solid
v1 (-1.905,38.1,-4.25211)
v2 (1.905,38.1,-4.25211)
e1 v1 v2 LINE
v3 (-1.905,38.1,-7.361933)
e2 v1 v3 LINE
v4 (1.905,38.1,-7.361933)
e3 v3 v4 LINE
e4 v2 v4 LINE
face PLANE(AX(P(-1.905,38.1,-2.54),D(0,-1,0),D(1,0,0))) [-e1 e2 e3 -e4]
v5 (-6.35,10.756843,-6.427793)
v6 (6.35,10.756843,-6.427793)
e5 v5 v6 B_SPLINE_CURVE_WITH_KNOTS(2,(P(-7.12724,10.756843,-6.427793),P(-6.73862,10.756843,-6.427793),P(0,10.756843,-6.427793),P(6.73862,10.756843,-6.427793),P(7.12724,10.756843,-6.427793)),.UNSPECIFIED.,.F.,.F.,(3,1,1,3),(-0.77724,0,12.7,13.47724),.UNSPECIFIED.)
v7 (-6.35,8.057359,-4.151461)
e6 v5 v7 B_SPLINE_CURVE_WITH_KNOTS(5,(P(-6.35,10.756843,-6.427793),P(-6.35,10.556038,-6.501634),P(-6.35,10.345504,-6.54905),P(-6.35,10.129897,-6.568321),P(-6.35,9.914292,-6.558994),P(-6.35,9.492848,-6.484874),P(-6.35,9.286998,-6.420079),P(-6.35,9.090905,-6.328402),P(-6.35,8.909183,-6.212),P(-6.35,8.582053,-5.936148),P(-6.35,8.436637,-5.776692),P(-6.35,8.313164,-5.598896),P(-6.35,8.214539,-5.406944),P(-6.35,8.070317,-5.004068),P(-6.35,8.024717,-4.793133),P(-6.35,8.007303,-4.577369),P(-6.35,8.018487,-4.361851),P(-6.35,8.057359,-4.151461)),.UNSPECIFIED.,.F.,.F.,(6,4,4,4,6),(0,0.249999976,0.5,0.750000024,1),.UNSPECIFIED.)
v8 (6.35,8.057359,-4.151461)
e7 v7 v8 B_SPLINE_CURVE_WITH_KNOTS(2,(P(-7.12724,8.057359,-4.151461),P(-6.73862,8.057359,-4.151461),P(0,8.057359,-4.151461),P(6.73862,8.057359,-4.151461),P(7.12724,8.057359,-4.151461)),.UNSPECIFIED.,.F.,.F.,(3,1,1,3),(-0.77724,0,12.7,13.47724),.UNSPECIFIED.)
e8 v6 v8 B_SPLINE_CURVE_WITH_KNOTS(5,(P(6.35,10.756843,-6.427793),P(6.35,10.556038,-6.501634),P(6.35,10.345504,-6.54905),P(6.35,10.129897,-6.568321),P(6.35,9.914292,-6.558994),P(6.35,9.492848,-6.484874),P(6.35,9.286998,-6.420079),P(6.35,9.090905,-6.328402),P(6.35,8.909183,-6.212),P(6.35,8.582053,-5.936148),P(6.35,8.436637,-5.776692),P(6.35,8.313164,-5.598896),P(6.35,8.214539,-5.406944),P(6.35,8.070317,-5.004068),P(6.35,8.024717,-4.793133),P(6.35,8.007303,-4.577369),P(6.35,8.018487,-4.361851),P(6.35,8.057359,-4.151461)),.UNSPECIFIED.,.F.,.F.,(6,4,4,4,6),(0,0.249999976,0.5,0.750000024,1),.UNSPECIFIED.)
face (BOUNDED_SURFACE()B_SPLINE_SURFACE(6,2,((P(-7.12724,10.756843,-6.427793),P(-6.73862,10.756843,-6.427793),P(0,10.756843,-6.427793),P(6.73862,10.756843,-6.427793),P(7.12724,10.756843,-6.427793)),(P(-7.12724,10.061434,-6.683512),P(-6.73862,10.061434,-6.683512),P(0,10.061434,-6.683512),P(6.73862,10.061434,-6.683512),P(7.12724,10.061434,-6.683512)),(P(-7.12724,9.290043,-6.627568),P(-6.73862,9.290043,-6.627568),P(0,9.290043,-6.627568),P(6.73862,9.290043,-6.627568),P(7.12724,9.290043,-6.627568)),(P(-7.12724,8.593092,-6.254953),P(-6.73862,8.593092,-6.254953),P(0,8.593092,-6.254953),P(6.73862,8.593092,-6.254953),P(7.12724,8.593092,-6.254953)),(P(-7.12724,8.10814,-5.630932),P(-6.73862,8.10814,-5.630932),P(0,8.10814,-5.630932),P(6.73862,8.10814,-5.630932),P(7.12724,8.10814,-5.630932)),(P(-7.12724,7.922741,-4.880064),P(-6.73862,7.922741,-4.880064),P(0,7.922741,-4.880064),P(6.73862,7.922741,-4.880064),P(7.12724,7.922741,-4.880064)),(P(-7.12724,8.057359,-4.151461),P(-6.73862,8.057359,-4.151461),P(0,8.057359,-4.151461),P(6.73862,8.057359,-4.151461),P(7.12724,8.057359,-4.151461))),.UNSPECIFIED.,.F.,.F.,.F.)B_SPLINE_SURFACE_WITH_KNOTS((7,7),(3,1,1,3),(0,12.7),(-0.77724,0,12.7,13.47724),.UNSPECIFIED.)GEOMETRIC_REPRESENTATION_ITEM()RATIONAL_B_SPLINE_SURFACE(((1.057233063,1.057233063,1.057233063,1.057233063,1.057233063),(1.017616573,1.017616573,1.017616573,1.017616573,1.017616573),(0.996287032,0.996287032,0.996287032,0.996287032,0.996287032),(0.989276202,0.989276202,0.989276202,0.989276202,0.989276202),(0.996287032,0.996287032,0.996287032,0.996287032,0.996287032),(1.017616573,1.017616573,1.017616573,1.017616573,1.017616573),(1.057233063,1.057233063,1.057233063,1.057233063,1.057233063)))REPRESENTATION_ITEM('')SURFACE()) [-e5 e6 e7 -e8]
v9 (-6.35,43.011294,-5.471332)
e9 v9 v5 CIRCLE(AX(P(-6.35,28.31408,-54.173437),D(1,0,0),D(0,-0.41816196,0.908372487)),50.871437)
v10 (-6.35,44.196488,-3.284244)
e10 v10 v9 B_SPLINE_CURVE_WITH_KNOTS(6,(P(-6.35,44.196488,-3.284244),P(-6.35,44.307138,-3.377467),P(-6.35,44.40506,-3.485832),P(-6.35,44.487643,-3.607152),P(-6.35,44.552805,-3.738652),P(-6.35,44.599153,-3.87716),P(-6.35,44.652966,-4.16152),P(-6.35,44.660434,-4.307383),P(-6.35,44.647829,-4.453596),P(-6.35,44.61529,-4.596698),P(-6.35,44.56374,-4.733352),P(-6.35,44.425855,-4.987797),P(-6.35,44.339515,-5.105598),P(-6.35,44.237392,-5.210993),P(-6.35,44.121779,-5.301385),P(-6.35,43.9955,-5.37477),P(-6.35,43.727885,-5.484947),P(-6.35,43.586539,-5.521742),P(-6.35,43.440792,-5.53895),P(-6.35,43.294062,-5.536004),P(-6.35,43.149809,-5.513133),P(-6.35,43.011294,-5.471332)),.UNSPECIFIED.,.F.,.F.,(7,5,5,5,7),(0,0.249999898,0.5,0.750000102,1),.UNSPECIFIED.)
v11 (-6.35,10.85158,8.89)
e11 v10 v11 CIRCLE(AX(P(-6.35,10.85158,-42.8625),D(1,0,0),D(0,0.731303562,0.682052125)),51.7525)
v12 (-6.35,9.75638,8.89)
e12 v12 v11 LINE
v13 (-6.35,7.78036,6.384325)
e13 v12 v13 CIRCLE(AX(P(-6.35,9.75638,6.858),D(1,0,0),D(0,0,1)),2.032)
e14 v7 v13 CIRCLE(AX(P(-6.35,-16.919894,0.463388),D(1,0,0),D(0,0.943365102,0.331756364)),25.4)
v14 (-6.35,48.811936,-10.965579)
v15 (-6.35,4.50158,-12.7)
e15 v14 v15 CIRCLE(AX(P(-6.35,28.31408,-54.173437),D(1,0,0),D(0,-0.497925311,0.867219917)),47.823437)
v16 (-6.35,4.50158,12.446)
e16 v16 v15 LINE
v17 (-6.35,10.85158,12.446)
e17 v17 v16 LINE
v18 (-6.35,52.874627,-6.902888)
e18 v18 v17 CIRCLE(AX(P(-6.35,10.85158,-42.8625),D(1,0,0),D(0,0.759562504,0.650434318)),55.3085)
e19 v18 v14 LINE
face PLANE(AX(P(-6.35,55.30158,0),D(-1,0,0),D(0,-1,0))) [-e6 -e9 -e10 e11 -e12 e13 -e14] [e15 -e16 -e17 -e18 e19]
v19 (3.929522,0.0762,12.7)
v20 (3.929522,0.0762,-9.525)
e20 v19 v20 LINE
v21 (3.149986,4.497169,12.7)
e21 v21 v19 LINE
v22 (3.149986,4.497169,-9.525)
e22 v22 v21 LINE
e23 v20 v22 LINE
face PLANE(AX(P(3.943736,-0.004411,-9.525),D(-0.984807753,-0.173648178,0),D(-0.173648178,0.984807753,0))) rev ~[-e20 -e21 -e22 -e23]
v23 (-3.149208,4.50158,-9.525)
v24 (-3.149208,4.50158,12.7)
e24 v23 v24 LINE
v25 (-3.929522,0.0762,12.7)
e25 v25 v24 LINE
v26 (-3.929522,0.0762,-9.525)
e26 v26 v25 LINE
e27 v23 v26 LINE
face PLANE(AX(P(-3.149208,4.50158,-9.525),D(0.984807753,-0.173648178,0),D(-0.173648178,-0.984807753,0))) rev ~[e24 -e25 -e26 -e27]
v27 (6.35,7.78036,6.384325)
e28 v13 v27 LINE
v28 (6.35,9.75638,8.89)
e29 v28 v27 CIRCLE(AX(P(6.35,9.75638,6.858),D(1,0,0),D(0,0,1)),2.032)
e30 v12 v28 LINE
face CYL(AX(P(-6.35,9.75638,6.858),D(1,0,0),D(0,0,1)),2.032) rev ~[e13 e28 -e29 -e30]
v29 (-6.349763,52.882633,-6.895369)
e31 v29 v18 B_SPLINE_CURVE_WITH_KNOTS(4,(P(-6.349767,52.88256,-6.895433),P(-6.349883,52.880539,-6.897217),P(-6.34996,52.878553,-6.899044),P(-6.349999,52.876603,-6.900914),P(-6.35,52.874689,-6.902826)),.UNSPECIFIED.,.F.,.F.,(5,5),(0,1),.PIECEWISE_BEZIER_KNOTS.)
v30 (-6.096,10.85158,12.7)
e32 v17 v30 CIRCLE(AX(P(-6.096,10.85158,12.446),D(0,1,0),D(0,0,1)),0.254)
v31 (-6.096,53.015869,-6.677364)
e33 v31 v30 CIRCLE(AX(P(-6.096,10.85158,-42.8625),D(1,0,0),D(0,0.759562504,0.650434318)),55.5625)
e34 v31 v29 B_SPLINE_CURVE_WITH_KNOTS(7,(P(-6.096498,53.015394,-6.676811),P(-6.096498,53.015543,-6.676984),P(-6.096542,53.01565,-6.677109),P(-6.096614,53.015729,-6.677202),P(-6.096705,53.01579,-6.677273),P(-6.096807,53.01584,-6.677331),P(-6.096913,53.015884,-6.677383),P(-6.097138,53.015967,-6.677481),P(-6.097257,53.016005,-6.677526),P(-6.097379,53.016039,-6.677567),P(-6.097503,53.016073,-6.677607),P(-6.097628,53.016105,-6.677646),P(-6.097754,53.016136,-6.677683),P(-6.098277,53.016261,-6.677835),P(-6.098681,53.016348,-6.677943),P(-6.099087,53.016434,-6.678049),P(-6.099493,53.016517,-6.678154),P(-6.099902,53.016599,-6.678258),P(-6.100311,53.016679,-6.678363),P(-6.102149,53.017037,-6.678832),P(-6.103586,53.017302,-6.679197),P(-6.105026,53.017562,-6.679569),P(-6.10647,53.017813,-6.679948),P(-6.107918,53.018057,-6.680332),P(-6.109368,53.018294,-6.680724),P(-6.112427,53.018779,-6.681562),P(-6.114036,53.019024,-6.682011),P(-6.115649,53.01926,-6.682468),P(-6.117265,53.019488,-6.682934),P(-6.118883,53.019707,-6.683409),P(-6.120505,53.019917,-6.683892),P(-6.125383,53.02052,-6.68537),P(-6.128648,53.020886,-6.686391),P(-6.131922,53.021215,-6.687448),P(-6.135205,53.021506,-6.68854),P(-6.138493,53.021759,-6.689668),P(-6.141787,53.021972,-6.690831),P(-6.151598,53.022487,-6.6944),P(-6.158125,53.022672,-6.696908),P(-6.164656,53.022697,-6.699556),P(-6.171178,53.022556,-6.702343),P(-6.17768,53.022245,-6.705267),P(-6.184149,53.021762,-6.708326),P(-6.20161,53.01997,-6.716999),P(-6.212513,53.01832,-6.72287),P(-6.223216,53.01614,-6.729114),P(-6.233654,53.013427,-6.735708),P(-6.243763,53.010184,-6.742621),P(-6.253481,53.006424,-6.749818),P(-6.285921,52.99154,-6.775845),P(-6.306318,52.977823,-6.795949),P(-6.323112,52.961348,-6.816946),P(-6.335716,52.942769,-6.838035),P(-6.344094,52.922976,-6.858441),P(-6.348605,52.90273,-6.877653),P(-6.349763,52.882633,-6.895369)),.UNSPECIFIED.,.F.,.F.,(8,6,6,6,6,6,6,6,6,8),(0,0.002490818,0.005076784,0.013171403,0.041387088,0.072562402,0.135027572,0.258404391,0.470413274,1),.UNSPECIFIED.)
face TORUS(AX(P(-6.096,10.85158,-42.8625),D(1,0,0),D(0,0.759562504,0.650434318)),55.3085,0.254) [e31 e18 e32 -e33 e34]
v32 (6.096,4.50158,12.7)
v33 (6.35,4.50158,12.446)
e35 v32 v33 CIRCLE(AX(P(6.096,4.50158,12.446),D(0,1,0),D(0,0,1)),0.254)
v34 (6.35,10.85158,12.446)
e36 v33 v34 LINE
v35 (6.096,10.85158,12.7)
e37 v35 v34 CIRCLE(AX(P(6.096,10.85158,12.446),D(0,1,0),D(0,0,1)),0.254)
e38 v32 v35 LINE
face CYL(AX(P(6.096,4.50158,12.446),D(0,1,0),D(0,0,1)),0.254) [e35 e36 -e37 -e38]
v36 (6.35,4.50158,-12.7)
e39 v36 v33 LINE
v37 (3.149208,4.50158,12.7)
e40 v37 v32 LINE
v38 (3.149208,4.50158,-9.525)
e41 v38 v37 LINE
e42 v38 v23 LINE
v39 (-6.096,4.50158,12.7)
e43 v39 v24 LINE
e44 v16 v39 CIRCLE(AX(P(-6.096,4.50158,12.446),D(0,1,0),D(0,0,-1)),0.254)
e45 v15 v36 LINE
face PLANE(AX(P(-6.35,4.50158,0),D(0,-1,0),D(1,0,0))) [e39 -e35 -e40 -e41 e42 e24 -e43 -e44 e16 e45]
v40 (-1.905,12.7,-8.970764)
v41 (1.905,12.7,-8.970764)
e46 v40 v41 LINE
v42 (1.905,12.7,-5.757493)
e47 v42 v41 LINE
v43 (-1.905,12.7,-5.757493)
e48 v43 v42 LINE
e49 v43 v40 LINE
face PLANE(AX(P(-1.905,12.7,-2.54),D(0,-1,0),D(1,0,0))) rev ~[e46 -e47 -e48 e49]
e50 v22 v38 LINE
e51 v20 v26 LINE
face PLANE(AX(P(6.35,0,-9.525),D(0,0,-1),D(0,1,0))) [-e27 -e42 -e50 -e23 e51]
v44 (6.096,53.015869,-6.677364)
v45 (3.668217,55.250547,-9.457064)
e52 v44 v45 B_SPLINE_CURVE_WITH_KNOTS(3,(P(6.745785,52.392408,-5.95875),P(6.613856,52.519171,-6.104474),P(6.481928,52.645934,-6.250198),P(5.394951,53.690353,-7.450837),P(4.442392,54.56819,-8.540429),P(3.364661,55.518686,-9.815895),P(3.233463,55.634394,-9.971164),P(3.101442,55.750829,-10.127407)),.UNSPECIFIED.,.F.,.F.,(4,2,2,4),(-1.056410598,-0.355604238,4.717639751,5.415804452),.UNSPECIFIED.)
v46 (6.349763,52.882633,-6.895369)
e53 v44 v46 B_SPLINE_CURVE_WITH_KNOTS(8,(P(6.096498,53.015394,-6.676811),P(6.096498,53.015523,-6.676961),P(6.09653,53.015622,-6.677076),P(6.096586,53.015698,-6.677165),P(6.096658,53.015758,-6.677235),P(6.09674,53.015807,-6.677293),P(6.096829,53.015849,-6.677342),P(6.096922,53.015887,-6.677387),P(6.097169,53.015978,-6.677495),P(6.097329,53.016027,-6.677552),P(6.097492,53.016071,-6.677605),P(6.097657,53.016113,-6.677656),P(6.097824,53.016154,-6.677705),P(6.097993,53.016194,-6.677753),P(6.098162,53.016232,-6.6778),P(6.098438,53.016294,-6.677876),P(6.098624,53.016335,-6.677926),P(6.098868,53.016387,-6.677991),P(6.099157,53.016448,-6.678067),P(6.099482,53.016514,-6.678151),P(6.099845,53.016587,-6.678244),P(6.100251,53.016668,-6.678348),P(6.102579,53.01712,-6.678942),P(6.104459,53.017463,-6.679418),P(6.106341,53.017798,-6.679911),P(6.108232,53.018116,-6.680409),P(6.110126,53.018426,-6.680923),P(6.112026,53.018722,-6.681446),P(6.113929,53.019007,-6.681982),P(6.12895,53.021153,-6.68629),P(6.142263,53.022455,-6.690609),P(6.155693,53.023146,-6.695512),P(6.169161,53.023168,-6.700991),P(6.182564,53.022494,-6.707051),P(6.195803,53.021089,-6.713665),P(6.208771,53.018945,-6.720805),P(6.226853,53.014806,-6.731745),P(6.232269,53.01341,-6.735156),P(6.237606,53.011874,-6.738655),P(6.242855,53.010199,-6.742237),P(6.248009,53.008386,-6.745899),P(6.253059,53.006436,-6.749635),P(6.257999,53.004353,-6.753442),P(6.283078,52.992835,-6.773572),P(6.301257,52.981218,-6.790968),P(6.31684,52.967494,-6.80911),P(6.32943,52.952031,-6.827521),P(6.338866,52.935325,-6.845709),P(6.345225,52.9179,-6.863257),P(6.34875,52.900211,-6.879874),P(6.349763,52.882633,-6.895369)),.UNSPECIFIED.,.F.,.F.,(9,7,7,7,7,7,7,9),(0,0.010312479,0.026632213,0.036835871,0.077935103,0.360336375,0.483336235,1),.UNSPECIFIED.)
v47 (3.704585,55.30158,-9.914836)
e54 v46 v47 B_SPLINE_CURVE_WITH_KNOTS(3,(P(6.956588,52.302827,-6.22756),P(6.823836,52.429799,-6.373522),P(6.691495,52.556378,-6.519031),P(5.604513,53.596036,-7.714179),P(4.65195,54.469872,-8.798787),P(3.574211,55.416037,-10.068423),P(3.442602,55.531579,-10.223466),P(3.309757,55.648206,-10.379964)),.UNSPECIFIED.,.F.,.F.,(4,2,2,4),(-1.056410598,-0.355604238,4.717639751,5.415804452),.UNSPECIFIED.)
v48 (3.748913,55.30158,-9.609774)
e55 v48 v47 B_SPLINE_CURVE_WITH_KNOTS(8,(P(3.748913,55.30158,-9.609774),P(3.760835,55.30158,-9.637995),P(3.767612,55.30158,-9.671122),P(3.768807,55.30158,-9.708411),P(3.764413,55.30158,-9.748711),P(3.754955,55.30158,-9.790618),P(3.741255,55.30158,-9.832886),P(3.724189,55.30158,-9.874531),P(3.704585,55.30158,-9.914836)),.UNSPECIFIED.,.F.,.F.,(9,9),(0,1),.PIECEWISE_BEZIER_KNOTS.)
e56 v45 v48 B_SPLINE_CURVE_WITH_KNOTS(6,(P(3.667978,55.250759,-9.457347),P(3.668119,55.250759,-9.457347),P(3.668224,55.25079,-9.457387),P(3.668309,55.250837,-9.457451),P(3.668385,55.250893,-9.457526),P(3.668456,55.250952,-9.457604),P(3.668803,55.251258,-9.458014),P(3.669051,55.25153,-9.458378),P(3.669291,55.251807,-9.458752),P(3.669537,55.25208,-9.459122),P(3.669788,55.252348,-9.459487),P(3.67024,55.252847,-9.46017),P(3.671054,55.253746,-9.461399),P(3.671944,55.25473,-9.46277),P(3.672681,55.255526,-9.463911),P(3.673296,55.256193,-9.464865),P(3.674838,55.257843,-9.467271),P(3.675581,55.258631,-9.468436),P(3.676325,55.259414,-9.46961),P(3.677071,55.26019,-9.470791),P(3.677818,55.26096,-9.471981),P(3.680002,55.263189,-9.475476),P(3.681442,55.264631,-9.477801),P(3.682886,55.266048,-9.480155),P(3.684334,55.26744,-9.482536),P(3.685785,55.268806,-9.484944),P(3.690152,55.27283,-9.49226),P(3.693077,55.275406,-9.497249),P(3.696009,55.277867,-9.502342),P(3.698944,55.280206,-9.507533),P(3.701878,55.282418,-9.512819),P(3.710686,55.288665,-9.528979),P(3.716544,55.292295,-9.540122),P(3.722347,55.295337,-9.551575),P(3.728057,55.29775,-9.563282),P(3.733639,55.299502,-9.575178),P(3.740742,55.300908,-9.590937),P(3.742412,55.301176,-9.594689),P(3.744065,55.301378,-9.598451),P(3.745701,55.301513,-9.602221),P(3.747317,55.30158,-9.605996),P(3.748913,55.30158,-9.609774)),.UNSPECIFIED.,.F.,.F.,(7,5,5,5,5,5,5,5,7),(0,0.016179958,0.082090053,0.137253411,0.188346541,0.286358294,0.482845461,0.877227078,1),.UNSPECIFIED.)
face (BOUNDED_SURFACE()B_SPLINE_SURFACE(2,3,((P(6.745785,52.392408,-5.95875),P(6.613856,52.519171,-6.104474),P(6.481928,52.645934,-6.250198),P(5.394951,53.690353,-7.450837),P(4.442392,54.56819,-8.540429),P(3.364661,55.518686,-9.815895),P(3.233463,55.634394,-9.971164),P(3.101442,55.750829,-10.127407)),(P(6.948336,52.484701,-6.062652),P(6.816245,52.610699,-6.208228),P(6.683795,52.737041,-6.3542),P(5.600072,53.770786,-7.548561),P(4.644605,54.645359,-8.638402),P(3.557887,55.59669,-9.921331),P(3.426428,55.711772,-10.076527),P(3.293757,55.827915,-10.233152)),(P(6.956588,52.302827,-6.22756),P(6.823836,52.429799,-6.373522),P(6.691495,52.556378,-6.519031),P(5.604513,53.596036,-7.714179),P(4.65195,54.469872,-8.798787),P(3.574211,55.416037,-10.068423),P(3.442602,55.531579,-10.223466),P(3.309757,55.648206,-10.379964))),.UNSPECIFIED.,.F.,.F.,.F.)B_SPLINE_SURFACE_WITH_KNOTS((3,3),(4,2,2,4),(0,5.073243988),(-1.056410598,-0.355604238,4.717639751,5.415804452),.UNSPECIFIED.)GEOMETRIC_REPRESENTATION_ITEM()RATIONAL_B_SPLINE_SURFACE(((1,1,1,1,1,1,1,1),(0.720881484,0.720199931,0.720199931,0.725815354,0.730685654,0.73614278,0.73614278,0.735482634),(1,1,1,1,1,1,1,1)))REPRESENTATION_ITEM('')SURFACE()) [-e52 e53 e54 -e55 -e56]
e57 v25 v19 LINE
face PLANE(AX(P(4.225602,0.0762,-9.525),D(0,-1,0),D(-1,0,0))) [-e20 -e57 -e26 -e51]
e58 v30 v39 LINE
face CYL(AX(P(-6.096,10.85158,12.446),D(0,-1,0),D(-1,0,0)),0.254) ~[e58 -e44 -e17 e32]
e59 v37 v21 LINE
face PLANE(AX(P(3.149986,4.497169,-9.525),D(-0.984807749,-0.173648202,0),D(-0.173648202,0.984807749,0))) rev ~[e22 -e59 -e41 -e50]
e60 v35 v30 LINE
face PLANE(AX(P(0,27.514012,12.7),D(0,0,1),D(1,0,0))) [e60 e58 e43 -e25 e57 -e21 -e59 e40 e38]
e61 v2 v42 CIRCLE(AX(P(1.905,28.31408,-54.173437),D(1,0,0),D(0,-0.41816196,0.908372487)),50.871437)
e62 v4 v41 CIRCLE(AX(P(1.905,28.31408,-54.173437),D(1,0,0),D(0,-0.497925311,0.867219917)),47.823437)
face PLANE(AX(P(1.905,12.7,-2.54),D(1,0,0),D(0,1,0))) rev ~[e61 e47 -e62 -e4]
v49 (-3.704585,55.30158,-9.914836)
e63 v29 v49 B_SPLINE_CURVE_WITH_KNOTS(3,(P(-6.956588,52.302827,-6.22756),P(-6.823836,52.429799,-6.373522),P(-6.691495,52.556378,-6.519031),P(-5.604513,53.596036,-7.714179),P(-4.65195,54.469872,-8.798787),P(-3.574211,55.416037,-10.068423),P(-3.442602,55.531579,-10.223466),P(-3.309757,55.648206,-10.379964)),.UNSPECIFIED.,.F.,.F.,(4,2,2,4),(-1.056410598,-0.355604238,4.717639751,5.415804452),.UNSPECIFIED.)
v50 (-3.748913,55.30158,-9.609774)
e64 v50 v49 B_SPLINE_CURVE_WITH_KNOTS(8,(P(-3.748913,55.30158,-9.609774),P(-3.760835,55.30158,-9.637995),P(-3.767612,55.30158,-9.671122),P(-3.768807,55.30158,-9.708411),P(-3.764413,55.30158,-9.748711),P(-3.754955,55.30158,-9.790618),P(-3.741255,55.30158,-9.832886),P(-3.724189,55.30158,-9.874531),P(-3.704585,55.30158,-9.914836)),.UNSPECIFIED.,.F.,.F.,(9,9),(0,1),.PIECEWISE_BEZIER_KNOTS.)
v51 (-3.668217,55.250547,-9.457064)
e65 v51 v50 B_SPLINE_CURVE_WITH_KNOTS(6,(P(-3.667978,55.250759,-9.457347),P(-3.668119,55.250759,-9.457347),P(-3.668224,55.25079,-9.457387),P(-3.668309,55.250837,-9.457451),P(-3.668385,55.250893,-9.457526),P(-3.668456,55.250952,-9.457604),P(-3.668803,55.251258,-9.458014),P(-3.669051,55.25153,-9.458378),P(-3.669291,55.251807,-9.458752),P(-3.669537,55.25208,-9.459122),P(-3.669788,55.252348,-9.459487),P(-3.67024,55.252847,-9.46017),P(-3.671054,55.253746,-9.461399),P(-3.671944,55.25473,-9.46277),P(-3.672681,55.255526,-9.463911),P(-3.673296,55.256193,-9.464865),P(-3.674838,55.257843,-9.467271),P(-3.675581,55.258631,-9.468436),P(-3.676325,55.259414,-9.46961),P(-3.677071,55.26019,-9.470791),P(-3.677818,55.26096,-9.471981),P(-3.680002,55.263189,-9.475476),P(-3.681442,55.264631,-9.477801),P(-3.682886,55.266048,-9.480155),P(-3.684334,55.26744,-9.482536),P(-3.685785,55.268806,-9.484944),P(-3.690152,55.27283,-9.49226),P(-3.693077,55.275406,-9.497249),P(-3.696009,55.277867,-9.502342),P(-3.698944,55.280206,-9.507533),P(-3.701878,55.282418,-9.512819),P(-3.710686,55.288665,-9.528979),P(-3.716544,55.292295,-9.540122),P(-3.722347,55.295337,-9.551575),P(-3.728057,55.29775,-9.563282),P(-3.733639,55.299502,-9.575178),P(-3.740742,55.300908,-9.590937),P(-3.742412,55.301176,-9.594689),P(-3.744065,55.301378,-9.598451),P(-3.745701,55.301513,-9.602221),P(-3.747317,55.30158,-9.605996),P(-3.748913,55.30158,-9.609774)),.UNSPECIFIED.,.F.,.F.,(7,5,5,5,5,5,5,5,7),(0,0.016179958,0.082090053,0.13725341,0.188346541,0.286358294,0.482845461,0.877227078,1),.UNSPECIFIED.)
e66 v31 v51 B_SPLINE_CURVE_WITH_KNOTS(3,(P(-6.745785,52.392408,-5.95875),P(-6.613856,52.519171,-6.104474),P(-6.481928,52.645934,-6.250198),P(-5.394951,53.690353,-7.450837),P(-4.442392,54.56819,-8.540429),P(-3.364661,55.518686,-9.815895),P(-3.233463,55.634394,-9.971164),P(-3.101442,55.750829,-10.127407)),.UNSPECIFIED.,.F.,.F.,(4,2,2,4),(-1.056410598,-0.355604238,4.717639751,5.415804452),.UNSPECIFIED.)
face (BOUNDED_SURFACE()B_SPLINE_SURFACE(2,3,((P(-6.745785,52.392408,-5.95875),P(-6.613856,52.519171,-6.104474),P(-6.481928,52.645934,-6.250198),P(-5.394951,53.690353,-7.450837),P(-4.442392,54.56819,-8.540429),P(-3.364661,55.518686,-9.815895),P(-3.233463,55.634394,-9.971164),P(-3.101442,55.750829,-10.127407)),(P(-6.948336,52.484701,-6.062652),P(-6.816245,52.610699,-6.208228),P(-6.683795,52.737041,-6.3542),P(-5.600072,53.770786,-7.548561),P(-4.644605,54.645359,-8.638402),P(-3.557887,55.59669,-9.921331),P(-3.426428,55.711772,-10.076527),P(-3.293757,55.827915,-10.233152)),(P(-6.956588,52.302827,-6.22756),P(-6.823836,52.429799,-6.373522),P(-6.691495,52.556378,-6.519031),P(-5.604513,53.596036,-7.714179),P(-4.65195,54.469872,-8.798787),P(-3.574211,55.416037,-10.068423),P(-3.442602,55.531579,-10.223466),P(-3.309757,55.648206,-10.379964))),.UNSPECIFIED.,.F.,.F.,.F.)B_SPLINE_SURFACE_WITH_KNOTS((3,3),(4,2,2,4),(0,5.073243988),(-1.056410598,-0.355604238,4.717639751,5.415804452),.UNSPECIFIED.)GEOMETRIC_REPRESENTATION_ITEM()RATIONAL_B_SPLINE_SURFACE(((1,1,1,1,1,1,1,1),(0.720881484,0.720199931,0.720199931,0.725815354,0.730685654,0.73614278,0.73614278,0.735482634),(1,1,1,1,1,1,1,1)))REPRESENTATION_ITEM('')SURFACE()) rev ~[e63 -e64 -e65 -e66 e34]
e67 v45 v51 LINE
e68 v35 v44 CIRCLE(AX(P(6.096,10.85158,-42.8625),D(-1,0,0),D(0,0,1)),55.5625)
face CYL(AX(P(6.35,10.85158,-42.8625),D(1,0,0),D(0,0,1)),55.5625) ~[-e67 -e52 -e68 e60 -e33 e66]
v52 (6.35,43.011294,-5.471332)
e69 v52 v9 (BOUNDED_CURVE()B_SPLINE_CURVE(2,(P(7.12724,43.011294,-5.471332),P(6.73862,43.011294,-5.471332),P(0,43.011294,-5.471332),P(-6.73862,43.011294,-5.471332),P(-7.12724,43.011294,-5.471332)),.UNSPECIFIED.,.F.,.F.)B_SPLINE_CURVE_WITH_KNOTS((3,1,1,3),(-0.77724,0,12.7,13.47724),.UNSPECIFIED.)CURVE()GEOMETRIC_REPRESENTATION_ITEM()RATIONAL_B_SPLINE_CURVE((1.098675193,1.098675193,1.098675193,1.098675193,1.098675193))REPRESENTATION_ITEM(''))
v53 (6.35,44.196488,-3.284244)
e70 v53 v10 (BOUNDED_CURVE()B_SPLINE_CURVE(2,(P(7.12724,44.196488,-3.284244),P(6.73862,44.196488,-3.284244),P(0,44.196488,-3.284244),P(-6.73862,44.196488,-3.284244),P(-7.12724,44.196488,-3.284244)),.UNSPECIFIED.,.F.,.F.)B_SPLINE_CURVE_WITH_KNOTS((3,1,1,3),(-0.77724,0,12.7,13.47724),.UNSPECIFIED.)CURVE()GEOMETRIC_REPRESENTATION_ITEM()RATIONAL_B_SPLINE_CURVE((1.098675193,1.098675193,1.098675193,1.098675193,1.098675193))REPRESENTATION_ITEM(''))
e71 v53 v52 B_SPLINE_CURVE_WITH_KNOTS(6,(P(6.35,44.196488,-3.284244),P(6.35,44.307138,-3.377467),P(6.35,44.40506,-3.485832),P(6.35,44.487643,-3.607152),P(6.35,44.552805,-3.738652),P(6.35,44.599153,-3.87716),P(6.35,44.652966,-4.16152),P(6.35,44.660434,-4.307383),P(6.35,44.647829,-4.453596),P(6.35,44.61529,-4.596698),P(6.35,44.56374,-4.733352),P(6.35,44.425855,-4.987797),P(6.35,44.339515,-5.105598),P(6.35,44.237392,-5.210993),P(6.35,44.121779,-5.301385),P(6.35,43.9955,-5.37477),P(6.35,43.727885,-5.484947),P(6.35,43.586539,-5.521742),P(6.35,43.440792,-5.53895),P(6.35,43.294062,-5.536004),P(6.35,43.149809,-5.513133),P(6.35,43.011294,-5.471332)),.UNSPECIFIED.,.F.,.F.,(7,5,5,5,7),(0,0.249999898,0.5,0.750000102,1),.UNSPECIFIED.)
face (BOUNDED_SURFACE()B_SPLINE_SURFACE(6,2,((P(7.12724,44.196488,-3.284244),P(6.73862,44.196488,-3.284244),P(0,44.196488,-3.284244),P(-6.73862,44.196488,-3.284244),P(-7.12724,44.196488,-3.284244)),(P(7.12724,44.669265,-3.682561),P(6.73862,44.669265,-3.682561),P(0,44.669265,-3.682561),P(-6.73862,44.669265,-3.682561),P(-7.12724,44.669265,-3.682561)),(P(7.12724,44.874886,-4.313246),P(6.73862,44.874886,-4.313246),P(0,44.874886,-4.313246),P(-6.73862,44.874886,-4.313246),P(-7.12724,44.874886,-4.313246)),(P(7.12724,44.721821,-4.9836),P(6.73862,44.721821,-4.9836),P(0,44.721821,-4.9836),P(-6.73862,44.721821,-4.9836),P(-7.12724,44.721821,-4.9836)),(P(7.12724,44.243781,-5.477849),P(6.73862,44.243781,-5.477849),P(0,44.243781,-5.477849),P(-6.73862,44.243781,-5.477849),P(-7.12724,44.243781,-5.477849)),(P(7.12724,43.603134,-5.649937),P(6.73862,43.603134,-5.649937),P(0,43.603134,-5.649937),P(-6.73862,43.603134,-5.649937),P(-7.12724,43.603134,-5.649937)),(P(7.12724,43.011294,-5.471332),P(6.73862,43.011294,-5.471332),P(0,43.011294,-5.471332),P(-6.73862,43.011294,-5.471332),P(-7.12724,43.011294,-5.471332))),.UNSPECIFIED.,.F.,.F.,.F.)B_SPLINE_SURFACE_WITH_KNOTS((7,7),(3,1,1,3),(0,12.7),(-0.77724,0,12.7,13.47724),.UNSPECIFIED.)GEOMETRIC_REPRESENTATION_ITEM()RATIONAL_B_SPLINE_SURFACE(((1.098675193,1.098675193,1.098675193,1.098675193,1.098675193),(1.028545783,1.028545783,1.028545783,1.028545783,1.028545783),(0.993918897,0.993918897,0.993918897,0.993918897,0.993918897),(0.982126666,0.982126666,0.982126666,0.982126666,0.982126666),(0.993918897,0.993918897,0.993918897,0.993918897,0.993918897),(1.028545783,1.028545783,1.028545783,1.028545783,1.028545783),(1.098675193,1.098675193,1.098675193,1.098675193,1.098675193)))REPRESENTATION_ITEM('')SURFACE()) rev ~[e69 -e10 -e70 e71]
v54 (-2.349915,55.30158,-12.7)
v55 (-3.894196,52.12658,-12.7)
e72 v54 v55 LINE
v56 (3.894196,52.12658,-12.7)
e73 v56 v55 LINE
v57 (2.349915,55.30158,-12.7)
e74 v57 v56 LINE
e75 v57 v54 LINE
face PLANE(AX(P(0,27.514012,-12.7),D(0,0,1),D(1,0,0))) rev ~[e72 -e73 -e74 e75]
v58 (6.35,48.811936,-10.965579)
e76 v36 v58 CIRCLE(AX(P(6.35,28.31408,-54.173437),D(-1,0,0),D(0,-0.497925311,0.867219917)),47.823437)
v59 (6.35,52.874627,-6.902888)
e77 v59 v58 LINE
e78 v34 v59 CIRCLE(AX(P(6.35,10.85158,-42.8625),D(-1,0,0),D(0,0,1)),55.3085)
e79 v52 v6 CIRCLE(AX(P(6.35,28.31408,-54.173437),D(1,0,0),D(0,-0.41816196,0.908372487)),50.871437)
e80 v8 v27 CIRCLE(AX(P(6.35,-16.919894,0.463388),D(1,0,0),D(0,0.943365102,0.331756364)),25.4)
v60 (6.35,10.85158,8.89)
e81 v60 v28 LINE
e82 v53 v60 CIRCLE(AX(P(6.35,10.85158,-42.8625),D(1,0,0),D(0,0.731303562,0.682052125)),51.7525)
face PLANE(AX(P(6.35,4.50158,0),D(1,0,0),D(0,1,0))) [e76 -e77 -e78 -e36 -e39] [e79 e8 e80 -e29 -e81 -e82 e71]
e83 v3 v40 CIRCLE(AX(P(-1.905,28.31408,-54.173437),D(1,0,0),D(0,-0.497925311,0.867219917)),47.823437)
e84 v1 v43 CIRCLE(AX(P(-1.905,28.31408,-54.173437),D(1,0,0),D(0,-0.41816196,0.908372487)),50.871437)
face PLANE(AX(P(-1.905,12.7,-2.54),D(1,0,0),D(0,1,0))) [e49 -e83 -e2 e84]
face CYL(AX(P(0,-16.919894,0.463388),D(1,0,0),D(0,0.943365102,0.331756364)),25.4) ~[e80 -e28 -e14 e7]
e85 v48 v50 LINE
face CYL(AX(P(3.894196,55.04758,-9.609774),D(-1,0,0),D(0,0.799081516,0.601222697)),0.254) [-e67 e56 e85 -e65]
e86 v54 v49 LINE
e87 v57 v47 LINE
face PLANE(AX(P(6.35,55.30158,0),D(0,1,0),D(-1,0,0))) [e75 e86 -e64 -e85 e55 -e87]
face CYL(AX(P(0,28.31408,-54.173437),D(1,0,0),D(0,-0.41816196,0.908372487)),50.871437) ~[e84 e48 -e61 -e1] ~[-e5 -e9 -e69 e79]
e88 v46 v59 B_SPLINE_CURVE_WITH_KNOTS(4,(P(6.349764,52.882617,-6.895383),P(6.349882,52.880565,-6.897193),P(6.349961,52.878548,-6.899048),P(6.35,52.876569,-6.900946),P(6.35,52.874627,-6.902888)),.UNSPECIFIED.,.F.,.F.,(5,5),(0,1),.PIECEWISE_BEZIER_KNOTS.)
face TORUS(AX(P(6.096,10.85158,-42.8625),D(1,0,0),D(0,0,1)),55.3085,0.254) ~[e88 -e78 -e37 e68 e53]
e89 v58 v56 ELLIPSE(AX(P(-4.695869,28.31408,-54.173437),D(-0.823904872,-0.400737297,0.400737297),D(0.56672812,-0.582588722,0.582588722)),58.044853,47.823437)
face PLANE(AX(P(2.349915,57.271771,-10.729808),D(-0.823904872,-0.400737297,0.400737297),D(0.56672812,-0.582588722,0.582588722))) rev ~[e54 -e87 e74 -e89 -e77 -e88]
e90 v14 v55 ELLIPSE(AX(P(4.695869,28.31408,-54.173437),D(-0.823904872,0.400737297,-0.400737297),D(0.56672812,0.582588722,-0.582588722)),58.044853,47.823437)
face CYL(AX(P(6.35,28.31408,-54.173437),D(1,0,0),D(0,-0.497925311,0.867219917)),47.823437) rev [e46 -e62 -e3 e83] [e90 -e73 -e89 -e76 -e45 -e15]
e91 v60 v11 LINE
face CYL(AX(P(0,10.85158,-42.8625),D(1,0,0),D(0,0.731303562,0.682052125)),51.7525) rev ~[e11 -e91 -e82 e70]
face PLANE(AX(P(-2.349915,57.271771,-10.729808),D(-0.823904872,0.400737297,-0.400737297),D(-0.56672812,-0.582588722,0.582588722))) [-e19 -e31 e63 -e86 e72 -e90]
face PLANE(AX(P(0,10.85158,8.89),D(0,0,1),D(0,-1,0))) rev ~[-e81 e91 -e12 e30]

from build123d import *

# Parameters (mm, degrees)
BOSS_EXTRUDE1_DEPTH   = 12.7
KES_EKSTR_ZYON1_DEPTH = 22.86
SKETCH3_W             = 3.175
SKETCH3_H             = 4.501579944
KES_EKSTR_ZYON2_DEPTH = 22.86
KES_EKSTR_ZYON3_DEPTH = 22.86
KES_EKSTR_ZYON4_DEPTH = 11.43
RADYUS1_R             = 2.032
RADYUS2_R             = 1.27
IZIM2_W               = 3.81
IZIM2_H               = 25.4
KES_EKSTR_ZYON5_DEPTH = 22.86
IZIM3_W               = 8.451203014
IZIM3_H               = 0.1524
KES_EKSTR_ZYON6_DEPTH = 22.86
KES_EKSTR_ZYON7_DEPTH = 22.86
KES_EKSTR_ZYON8_DEPTH = 22.86
RADYUS3_R             = 0.254


with BuildPart() as part:
    # Sketch1 → Boss-Extrude1 (new, symmetric)
    with BuildSketch(Plane.XY):
        Polygon((-3.96875, 0), (3.96875, 0), (3.175, 4.501579944), (6.35, 4.501579944), (6.35, 55.301579944), (-6.35, 55.301579944), (-6.35, 4.501579944), (-3.175, 4.501579944), align=None)
    extrude(amount=BOSS_EXTRUDE1_DEPTH, both=True)

    # Sketch2 → Kes-Ekstrüzyon1 (cut)
    with BuildSketch(Plane(origin=(6.35, 0, 0), x_dir=(0, 0, -1), z_dir=(1, 0, 0))):
        with BuildLine():
            Line((9.525, 55.301579944), (-12.7, 55.301579944))
            Line((-12.7, 55.301579944), (-12.7, 10.851579944))
            ThreePointArc((-12.7, 10.851579944), (-6.8341108, 35.699885344), (9.525, 55.301579944))
        make_face()
    extrude(amount=-KES_EKSTR_ZYON1_DEPTH, mode=Mode.SUBTRACT)

    # Sketch3 → Kes-Ekstrüzyon2 (cut)
    with BuildSketch(Plane(origin=(6.35, 0, 0), x_dir=(0, 0, -1), z_dir=(1, 0, 0))):
        with Locations((11.1125, 2.250789972)):
            Rectangle(SKETCH3_W, SKETCH3_H)
    extrude(amount=-KES_EKSTR_ZYON2_DEPTH, mode=Mode.SUBTRACT)

    # Sketch4 → Kes-Ekstrüzyon3 (cut)
    with BuildSketch(Plane(origin=(6.35, 0, 0), x_dir=(0, 0, -1), z_dir=(1, 0, 0))):
        with BuildLine():
            Line((12.7, 52.126579944), (12.7, 4.501579944))
            ThreePointArc((12.7, 4.501579944), (6.35, 28.314079944), (12.7, 52.126579944))
        make_face()
    extrude(amount=-KES_EKSTR_ZYON3_DEPTH, mode=Mode.SUBTRACT)

    # Çizim1 → Kes-Ekstrüzyon4 (cut, symmetric)
    with BuildSketch(Plane(origin=(0, 0, 0), x_dir=(0, 0, -1), z_dir=(1, 0, 0))):
        with BuildLine():
            Line((-8.89, 10.851579944), (-8.89, 7.041579944))
            ThreePointArc((-8.89, 7.041579944), (-0.463388354, 8.480106364), (7.963223293, 7.041579944))
            ThreePointArc((7.963223293, 7.041579944), (3.304329022, 27.827298707), (7.564597424, 48.698367522))
            ThreePointArc((7.564597424, 48.698367522), (-4.598410017, 31.486096575), (-8.89, 10.851579944))
        make_face()
    extrude(amount=KES_EKSTR_ZYON4_DEPTH, both=True, mode=Mode.SUBTRACT)

    # Radyus1
    radyus1_edges = [part.edges().sort_by_distance(p)[0] for p in [
        (0, 7.041579944, -7.963223293),
        (0, 7.041579944, 8.89),
    ]]
    fillet(radyus1_edges, radius=RADYUS1_R)

    # Radyus2
    radyus2_edges = [part.edges().sort_by_distance(p)[0] for p in [
        (0, 48.698367522, -7.564597424),
    ]]
    fillet(radyus2_edges, radius=RADYUS2_R)

    # Çizim2 → Kes-Ekstrüzyon5 (cut)
    with BuildSketch(Plane.XY.offset(-2.54)):
        with Locations((0, 25.4)):
            Rectangle(IZIM2_W, IZIM2_H)
    extrude(amount=-KES_EKSTR_ZYON5_DEPTH, mode=Mode.SUBTRACT)

    # Çizim3 → Kes-Ekstrüzyon6 (cut)
    with BuildSketch(Plane(origin=(0, 0, -9.525), x_dir=(-1, 0, 0), z_dir=(0, 0, -1))):
        Rectangle(IZIM3_W, IZIM3_H)
    extrude(amount=-KES_EKSTR_ZYON6_DEPTH, mode=Mode.SUBTRACT)

    # Çizim4 → Kes-Ekstrüzyon7 (cut)
    with BuildSketch(Plane(origin=(0, 0, -9.525), x_dir=(-1, 0, 0), z_dir=(0, 0, -1))):
        Polygon((3.149208164, 4.501579944), (3.943735883, -0.004410664), (3.96875, 0), (3.175, 4.501579944), align=None)
        Polygon((-3.943735883, -0.004410664), (-3.149985883, 4.497169281), (-3.149208164, 4.501579944), (-3.175, 4.501579944), (-3.96875, 0), align=None)
    extrude(amount=-KES_EKSTR_ZYON7_DEPTH, mode=Mode.SUBTRACT)

    # Çizim7 → Kes-Ekstrüzyon8 (cut)
    with BuildSketch(Plane(origin=(0, 23.270981508, 23.270981508), x_dir=(-1, 0, 0), z_dir=(0, 0.7071067811865464, 0.7071067811865488))):
        Polygon((2.349914846, -48.08437831), (8.542960799, -39.080976931), (8.542960799, -48.08437831), align=None)
        Polygon((-8.542960799, -48.08437831), (-2.349914846, -48.08437831), (-8.542960799, -39.080976931), align=None)
    extrude(amount=-KES_EKSTR_ZYON8_DEPTH, mode=Mode.SUBTRACT)

    # Radyus3
    radyus3_edges = [part.edges().sort_by_distance(p)[0] for p in [
        (6.35, 7.676579944, 12.7),
        (0, 55.301579944, -9.525),
        (-5.120609971, 54.200188902, -8.104917983),
        (5.120609971, 54.200188902, -8.104917983),
        (-6.35, 7.676579944, 12.7),
        (-6.35, 34.080615313, 7.611288466),
        (6.35, 34.080615313, 7.611288466),
    ]]
    fillet(radyus3_edges, radius=RADYUS3_R)


solid = part.part
